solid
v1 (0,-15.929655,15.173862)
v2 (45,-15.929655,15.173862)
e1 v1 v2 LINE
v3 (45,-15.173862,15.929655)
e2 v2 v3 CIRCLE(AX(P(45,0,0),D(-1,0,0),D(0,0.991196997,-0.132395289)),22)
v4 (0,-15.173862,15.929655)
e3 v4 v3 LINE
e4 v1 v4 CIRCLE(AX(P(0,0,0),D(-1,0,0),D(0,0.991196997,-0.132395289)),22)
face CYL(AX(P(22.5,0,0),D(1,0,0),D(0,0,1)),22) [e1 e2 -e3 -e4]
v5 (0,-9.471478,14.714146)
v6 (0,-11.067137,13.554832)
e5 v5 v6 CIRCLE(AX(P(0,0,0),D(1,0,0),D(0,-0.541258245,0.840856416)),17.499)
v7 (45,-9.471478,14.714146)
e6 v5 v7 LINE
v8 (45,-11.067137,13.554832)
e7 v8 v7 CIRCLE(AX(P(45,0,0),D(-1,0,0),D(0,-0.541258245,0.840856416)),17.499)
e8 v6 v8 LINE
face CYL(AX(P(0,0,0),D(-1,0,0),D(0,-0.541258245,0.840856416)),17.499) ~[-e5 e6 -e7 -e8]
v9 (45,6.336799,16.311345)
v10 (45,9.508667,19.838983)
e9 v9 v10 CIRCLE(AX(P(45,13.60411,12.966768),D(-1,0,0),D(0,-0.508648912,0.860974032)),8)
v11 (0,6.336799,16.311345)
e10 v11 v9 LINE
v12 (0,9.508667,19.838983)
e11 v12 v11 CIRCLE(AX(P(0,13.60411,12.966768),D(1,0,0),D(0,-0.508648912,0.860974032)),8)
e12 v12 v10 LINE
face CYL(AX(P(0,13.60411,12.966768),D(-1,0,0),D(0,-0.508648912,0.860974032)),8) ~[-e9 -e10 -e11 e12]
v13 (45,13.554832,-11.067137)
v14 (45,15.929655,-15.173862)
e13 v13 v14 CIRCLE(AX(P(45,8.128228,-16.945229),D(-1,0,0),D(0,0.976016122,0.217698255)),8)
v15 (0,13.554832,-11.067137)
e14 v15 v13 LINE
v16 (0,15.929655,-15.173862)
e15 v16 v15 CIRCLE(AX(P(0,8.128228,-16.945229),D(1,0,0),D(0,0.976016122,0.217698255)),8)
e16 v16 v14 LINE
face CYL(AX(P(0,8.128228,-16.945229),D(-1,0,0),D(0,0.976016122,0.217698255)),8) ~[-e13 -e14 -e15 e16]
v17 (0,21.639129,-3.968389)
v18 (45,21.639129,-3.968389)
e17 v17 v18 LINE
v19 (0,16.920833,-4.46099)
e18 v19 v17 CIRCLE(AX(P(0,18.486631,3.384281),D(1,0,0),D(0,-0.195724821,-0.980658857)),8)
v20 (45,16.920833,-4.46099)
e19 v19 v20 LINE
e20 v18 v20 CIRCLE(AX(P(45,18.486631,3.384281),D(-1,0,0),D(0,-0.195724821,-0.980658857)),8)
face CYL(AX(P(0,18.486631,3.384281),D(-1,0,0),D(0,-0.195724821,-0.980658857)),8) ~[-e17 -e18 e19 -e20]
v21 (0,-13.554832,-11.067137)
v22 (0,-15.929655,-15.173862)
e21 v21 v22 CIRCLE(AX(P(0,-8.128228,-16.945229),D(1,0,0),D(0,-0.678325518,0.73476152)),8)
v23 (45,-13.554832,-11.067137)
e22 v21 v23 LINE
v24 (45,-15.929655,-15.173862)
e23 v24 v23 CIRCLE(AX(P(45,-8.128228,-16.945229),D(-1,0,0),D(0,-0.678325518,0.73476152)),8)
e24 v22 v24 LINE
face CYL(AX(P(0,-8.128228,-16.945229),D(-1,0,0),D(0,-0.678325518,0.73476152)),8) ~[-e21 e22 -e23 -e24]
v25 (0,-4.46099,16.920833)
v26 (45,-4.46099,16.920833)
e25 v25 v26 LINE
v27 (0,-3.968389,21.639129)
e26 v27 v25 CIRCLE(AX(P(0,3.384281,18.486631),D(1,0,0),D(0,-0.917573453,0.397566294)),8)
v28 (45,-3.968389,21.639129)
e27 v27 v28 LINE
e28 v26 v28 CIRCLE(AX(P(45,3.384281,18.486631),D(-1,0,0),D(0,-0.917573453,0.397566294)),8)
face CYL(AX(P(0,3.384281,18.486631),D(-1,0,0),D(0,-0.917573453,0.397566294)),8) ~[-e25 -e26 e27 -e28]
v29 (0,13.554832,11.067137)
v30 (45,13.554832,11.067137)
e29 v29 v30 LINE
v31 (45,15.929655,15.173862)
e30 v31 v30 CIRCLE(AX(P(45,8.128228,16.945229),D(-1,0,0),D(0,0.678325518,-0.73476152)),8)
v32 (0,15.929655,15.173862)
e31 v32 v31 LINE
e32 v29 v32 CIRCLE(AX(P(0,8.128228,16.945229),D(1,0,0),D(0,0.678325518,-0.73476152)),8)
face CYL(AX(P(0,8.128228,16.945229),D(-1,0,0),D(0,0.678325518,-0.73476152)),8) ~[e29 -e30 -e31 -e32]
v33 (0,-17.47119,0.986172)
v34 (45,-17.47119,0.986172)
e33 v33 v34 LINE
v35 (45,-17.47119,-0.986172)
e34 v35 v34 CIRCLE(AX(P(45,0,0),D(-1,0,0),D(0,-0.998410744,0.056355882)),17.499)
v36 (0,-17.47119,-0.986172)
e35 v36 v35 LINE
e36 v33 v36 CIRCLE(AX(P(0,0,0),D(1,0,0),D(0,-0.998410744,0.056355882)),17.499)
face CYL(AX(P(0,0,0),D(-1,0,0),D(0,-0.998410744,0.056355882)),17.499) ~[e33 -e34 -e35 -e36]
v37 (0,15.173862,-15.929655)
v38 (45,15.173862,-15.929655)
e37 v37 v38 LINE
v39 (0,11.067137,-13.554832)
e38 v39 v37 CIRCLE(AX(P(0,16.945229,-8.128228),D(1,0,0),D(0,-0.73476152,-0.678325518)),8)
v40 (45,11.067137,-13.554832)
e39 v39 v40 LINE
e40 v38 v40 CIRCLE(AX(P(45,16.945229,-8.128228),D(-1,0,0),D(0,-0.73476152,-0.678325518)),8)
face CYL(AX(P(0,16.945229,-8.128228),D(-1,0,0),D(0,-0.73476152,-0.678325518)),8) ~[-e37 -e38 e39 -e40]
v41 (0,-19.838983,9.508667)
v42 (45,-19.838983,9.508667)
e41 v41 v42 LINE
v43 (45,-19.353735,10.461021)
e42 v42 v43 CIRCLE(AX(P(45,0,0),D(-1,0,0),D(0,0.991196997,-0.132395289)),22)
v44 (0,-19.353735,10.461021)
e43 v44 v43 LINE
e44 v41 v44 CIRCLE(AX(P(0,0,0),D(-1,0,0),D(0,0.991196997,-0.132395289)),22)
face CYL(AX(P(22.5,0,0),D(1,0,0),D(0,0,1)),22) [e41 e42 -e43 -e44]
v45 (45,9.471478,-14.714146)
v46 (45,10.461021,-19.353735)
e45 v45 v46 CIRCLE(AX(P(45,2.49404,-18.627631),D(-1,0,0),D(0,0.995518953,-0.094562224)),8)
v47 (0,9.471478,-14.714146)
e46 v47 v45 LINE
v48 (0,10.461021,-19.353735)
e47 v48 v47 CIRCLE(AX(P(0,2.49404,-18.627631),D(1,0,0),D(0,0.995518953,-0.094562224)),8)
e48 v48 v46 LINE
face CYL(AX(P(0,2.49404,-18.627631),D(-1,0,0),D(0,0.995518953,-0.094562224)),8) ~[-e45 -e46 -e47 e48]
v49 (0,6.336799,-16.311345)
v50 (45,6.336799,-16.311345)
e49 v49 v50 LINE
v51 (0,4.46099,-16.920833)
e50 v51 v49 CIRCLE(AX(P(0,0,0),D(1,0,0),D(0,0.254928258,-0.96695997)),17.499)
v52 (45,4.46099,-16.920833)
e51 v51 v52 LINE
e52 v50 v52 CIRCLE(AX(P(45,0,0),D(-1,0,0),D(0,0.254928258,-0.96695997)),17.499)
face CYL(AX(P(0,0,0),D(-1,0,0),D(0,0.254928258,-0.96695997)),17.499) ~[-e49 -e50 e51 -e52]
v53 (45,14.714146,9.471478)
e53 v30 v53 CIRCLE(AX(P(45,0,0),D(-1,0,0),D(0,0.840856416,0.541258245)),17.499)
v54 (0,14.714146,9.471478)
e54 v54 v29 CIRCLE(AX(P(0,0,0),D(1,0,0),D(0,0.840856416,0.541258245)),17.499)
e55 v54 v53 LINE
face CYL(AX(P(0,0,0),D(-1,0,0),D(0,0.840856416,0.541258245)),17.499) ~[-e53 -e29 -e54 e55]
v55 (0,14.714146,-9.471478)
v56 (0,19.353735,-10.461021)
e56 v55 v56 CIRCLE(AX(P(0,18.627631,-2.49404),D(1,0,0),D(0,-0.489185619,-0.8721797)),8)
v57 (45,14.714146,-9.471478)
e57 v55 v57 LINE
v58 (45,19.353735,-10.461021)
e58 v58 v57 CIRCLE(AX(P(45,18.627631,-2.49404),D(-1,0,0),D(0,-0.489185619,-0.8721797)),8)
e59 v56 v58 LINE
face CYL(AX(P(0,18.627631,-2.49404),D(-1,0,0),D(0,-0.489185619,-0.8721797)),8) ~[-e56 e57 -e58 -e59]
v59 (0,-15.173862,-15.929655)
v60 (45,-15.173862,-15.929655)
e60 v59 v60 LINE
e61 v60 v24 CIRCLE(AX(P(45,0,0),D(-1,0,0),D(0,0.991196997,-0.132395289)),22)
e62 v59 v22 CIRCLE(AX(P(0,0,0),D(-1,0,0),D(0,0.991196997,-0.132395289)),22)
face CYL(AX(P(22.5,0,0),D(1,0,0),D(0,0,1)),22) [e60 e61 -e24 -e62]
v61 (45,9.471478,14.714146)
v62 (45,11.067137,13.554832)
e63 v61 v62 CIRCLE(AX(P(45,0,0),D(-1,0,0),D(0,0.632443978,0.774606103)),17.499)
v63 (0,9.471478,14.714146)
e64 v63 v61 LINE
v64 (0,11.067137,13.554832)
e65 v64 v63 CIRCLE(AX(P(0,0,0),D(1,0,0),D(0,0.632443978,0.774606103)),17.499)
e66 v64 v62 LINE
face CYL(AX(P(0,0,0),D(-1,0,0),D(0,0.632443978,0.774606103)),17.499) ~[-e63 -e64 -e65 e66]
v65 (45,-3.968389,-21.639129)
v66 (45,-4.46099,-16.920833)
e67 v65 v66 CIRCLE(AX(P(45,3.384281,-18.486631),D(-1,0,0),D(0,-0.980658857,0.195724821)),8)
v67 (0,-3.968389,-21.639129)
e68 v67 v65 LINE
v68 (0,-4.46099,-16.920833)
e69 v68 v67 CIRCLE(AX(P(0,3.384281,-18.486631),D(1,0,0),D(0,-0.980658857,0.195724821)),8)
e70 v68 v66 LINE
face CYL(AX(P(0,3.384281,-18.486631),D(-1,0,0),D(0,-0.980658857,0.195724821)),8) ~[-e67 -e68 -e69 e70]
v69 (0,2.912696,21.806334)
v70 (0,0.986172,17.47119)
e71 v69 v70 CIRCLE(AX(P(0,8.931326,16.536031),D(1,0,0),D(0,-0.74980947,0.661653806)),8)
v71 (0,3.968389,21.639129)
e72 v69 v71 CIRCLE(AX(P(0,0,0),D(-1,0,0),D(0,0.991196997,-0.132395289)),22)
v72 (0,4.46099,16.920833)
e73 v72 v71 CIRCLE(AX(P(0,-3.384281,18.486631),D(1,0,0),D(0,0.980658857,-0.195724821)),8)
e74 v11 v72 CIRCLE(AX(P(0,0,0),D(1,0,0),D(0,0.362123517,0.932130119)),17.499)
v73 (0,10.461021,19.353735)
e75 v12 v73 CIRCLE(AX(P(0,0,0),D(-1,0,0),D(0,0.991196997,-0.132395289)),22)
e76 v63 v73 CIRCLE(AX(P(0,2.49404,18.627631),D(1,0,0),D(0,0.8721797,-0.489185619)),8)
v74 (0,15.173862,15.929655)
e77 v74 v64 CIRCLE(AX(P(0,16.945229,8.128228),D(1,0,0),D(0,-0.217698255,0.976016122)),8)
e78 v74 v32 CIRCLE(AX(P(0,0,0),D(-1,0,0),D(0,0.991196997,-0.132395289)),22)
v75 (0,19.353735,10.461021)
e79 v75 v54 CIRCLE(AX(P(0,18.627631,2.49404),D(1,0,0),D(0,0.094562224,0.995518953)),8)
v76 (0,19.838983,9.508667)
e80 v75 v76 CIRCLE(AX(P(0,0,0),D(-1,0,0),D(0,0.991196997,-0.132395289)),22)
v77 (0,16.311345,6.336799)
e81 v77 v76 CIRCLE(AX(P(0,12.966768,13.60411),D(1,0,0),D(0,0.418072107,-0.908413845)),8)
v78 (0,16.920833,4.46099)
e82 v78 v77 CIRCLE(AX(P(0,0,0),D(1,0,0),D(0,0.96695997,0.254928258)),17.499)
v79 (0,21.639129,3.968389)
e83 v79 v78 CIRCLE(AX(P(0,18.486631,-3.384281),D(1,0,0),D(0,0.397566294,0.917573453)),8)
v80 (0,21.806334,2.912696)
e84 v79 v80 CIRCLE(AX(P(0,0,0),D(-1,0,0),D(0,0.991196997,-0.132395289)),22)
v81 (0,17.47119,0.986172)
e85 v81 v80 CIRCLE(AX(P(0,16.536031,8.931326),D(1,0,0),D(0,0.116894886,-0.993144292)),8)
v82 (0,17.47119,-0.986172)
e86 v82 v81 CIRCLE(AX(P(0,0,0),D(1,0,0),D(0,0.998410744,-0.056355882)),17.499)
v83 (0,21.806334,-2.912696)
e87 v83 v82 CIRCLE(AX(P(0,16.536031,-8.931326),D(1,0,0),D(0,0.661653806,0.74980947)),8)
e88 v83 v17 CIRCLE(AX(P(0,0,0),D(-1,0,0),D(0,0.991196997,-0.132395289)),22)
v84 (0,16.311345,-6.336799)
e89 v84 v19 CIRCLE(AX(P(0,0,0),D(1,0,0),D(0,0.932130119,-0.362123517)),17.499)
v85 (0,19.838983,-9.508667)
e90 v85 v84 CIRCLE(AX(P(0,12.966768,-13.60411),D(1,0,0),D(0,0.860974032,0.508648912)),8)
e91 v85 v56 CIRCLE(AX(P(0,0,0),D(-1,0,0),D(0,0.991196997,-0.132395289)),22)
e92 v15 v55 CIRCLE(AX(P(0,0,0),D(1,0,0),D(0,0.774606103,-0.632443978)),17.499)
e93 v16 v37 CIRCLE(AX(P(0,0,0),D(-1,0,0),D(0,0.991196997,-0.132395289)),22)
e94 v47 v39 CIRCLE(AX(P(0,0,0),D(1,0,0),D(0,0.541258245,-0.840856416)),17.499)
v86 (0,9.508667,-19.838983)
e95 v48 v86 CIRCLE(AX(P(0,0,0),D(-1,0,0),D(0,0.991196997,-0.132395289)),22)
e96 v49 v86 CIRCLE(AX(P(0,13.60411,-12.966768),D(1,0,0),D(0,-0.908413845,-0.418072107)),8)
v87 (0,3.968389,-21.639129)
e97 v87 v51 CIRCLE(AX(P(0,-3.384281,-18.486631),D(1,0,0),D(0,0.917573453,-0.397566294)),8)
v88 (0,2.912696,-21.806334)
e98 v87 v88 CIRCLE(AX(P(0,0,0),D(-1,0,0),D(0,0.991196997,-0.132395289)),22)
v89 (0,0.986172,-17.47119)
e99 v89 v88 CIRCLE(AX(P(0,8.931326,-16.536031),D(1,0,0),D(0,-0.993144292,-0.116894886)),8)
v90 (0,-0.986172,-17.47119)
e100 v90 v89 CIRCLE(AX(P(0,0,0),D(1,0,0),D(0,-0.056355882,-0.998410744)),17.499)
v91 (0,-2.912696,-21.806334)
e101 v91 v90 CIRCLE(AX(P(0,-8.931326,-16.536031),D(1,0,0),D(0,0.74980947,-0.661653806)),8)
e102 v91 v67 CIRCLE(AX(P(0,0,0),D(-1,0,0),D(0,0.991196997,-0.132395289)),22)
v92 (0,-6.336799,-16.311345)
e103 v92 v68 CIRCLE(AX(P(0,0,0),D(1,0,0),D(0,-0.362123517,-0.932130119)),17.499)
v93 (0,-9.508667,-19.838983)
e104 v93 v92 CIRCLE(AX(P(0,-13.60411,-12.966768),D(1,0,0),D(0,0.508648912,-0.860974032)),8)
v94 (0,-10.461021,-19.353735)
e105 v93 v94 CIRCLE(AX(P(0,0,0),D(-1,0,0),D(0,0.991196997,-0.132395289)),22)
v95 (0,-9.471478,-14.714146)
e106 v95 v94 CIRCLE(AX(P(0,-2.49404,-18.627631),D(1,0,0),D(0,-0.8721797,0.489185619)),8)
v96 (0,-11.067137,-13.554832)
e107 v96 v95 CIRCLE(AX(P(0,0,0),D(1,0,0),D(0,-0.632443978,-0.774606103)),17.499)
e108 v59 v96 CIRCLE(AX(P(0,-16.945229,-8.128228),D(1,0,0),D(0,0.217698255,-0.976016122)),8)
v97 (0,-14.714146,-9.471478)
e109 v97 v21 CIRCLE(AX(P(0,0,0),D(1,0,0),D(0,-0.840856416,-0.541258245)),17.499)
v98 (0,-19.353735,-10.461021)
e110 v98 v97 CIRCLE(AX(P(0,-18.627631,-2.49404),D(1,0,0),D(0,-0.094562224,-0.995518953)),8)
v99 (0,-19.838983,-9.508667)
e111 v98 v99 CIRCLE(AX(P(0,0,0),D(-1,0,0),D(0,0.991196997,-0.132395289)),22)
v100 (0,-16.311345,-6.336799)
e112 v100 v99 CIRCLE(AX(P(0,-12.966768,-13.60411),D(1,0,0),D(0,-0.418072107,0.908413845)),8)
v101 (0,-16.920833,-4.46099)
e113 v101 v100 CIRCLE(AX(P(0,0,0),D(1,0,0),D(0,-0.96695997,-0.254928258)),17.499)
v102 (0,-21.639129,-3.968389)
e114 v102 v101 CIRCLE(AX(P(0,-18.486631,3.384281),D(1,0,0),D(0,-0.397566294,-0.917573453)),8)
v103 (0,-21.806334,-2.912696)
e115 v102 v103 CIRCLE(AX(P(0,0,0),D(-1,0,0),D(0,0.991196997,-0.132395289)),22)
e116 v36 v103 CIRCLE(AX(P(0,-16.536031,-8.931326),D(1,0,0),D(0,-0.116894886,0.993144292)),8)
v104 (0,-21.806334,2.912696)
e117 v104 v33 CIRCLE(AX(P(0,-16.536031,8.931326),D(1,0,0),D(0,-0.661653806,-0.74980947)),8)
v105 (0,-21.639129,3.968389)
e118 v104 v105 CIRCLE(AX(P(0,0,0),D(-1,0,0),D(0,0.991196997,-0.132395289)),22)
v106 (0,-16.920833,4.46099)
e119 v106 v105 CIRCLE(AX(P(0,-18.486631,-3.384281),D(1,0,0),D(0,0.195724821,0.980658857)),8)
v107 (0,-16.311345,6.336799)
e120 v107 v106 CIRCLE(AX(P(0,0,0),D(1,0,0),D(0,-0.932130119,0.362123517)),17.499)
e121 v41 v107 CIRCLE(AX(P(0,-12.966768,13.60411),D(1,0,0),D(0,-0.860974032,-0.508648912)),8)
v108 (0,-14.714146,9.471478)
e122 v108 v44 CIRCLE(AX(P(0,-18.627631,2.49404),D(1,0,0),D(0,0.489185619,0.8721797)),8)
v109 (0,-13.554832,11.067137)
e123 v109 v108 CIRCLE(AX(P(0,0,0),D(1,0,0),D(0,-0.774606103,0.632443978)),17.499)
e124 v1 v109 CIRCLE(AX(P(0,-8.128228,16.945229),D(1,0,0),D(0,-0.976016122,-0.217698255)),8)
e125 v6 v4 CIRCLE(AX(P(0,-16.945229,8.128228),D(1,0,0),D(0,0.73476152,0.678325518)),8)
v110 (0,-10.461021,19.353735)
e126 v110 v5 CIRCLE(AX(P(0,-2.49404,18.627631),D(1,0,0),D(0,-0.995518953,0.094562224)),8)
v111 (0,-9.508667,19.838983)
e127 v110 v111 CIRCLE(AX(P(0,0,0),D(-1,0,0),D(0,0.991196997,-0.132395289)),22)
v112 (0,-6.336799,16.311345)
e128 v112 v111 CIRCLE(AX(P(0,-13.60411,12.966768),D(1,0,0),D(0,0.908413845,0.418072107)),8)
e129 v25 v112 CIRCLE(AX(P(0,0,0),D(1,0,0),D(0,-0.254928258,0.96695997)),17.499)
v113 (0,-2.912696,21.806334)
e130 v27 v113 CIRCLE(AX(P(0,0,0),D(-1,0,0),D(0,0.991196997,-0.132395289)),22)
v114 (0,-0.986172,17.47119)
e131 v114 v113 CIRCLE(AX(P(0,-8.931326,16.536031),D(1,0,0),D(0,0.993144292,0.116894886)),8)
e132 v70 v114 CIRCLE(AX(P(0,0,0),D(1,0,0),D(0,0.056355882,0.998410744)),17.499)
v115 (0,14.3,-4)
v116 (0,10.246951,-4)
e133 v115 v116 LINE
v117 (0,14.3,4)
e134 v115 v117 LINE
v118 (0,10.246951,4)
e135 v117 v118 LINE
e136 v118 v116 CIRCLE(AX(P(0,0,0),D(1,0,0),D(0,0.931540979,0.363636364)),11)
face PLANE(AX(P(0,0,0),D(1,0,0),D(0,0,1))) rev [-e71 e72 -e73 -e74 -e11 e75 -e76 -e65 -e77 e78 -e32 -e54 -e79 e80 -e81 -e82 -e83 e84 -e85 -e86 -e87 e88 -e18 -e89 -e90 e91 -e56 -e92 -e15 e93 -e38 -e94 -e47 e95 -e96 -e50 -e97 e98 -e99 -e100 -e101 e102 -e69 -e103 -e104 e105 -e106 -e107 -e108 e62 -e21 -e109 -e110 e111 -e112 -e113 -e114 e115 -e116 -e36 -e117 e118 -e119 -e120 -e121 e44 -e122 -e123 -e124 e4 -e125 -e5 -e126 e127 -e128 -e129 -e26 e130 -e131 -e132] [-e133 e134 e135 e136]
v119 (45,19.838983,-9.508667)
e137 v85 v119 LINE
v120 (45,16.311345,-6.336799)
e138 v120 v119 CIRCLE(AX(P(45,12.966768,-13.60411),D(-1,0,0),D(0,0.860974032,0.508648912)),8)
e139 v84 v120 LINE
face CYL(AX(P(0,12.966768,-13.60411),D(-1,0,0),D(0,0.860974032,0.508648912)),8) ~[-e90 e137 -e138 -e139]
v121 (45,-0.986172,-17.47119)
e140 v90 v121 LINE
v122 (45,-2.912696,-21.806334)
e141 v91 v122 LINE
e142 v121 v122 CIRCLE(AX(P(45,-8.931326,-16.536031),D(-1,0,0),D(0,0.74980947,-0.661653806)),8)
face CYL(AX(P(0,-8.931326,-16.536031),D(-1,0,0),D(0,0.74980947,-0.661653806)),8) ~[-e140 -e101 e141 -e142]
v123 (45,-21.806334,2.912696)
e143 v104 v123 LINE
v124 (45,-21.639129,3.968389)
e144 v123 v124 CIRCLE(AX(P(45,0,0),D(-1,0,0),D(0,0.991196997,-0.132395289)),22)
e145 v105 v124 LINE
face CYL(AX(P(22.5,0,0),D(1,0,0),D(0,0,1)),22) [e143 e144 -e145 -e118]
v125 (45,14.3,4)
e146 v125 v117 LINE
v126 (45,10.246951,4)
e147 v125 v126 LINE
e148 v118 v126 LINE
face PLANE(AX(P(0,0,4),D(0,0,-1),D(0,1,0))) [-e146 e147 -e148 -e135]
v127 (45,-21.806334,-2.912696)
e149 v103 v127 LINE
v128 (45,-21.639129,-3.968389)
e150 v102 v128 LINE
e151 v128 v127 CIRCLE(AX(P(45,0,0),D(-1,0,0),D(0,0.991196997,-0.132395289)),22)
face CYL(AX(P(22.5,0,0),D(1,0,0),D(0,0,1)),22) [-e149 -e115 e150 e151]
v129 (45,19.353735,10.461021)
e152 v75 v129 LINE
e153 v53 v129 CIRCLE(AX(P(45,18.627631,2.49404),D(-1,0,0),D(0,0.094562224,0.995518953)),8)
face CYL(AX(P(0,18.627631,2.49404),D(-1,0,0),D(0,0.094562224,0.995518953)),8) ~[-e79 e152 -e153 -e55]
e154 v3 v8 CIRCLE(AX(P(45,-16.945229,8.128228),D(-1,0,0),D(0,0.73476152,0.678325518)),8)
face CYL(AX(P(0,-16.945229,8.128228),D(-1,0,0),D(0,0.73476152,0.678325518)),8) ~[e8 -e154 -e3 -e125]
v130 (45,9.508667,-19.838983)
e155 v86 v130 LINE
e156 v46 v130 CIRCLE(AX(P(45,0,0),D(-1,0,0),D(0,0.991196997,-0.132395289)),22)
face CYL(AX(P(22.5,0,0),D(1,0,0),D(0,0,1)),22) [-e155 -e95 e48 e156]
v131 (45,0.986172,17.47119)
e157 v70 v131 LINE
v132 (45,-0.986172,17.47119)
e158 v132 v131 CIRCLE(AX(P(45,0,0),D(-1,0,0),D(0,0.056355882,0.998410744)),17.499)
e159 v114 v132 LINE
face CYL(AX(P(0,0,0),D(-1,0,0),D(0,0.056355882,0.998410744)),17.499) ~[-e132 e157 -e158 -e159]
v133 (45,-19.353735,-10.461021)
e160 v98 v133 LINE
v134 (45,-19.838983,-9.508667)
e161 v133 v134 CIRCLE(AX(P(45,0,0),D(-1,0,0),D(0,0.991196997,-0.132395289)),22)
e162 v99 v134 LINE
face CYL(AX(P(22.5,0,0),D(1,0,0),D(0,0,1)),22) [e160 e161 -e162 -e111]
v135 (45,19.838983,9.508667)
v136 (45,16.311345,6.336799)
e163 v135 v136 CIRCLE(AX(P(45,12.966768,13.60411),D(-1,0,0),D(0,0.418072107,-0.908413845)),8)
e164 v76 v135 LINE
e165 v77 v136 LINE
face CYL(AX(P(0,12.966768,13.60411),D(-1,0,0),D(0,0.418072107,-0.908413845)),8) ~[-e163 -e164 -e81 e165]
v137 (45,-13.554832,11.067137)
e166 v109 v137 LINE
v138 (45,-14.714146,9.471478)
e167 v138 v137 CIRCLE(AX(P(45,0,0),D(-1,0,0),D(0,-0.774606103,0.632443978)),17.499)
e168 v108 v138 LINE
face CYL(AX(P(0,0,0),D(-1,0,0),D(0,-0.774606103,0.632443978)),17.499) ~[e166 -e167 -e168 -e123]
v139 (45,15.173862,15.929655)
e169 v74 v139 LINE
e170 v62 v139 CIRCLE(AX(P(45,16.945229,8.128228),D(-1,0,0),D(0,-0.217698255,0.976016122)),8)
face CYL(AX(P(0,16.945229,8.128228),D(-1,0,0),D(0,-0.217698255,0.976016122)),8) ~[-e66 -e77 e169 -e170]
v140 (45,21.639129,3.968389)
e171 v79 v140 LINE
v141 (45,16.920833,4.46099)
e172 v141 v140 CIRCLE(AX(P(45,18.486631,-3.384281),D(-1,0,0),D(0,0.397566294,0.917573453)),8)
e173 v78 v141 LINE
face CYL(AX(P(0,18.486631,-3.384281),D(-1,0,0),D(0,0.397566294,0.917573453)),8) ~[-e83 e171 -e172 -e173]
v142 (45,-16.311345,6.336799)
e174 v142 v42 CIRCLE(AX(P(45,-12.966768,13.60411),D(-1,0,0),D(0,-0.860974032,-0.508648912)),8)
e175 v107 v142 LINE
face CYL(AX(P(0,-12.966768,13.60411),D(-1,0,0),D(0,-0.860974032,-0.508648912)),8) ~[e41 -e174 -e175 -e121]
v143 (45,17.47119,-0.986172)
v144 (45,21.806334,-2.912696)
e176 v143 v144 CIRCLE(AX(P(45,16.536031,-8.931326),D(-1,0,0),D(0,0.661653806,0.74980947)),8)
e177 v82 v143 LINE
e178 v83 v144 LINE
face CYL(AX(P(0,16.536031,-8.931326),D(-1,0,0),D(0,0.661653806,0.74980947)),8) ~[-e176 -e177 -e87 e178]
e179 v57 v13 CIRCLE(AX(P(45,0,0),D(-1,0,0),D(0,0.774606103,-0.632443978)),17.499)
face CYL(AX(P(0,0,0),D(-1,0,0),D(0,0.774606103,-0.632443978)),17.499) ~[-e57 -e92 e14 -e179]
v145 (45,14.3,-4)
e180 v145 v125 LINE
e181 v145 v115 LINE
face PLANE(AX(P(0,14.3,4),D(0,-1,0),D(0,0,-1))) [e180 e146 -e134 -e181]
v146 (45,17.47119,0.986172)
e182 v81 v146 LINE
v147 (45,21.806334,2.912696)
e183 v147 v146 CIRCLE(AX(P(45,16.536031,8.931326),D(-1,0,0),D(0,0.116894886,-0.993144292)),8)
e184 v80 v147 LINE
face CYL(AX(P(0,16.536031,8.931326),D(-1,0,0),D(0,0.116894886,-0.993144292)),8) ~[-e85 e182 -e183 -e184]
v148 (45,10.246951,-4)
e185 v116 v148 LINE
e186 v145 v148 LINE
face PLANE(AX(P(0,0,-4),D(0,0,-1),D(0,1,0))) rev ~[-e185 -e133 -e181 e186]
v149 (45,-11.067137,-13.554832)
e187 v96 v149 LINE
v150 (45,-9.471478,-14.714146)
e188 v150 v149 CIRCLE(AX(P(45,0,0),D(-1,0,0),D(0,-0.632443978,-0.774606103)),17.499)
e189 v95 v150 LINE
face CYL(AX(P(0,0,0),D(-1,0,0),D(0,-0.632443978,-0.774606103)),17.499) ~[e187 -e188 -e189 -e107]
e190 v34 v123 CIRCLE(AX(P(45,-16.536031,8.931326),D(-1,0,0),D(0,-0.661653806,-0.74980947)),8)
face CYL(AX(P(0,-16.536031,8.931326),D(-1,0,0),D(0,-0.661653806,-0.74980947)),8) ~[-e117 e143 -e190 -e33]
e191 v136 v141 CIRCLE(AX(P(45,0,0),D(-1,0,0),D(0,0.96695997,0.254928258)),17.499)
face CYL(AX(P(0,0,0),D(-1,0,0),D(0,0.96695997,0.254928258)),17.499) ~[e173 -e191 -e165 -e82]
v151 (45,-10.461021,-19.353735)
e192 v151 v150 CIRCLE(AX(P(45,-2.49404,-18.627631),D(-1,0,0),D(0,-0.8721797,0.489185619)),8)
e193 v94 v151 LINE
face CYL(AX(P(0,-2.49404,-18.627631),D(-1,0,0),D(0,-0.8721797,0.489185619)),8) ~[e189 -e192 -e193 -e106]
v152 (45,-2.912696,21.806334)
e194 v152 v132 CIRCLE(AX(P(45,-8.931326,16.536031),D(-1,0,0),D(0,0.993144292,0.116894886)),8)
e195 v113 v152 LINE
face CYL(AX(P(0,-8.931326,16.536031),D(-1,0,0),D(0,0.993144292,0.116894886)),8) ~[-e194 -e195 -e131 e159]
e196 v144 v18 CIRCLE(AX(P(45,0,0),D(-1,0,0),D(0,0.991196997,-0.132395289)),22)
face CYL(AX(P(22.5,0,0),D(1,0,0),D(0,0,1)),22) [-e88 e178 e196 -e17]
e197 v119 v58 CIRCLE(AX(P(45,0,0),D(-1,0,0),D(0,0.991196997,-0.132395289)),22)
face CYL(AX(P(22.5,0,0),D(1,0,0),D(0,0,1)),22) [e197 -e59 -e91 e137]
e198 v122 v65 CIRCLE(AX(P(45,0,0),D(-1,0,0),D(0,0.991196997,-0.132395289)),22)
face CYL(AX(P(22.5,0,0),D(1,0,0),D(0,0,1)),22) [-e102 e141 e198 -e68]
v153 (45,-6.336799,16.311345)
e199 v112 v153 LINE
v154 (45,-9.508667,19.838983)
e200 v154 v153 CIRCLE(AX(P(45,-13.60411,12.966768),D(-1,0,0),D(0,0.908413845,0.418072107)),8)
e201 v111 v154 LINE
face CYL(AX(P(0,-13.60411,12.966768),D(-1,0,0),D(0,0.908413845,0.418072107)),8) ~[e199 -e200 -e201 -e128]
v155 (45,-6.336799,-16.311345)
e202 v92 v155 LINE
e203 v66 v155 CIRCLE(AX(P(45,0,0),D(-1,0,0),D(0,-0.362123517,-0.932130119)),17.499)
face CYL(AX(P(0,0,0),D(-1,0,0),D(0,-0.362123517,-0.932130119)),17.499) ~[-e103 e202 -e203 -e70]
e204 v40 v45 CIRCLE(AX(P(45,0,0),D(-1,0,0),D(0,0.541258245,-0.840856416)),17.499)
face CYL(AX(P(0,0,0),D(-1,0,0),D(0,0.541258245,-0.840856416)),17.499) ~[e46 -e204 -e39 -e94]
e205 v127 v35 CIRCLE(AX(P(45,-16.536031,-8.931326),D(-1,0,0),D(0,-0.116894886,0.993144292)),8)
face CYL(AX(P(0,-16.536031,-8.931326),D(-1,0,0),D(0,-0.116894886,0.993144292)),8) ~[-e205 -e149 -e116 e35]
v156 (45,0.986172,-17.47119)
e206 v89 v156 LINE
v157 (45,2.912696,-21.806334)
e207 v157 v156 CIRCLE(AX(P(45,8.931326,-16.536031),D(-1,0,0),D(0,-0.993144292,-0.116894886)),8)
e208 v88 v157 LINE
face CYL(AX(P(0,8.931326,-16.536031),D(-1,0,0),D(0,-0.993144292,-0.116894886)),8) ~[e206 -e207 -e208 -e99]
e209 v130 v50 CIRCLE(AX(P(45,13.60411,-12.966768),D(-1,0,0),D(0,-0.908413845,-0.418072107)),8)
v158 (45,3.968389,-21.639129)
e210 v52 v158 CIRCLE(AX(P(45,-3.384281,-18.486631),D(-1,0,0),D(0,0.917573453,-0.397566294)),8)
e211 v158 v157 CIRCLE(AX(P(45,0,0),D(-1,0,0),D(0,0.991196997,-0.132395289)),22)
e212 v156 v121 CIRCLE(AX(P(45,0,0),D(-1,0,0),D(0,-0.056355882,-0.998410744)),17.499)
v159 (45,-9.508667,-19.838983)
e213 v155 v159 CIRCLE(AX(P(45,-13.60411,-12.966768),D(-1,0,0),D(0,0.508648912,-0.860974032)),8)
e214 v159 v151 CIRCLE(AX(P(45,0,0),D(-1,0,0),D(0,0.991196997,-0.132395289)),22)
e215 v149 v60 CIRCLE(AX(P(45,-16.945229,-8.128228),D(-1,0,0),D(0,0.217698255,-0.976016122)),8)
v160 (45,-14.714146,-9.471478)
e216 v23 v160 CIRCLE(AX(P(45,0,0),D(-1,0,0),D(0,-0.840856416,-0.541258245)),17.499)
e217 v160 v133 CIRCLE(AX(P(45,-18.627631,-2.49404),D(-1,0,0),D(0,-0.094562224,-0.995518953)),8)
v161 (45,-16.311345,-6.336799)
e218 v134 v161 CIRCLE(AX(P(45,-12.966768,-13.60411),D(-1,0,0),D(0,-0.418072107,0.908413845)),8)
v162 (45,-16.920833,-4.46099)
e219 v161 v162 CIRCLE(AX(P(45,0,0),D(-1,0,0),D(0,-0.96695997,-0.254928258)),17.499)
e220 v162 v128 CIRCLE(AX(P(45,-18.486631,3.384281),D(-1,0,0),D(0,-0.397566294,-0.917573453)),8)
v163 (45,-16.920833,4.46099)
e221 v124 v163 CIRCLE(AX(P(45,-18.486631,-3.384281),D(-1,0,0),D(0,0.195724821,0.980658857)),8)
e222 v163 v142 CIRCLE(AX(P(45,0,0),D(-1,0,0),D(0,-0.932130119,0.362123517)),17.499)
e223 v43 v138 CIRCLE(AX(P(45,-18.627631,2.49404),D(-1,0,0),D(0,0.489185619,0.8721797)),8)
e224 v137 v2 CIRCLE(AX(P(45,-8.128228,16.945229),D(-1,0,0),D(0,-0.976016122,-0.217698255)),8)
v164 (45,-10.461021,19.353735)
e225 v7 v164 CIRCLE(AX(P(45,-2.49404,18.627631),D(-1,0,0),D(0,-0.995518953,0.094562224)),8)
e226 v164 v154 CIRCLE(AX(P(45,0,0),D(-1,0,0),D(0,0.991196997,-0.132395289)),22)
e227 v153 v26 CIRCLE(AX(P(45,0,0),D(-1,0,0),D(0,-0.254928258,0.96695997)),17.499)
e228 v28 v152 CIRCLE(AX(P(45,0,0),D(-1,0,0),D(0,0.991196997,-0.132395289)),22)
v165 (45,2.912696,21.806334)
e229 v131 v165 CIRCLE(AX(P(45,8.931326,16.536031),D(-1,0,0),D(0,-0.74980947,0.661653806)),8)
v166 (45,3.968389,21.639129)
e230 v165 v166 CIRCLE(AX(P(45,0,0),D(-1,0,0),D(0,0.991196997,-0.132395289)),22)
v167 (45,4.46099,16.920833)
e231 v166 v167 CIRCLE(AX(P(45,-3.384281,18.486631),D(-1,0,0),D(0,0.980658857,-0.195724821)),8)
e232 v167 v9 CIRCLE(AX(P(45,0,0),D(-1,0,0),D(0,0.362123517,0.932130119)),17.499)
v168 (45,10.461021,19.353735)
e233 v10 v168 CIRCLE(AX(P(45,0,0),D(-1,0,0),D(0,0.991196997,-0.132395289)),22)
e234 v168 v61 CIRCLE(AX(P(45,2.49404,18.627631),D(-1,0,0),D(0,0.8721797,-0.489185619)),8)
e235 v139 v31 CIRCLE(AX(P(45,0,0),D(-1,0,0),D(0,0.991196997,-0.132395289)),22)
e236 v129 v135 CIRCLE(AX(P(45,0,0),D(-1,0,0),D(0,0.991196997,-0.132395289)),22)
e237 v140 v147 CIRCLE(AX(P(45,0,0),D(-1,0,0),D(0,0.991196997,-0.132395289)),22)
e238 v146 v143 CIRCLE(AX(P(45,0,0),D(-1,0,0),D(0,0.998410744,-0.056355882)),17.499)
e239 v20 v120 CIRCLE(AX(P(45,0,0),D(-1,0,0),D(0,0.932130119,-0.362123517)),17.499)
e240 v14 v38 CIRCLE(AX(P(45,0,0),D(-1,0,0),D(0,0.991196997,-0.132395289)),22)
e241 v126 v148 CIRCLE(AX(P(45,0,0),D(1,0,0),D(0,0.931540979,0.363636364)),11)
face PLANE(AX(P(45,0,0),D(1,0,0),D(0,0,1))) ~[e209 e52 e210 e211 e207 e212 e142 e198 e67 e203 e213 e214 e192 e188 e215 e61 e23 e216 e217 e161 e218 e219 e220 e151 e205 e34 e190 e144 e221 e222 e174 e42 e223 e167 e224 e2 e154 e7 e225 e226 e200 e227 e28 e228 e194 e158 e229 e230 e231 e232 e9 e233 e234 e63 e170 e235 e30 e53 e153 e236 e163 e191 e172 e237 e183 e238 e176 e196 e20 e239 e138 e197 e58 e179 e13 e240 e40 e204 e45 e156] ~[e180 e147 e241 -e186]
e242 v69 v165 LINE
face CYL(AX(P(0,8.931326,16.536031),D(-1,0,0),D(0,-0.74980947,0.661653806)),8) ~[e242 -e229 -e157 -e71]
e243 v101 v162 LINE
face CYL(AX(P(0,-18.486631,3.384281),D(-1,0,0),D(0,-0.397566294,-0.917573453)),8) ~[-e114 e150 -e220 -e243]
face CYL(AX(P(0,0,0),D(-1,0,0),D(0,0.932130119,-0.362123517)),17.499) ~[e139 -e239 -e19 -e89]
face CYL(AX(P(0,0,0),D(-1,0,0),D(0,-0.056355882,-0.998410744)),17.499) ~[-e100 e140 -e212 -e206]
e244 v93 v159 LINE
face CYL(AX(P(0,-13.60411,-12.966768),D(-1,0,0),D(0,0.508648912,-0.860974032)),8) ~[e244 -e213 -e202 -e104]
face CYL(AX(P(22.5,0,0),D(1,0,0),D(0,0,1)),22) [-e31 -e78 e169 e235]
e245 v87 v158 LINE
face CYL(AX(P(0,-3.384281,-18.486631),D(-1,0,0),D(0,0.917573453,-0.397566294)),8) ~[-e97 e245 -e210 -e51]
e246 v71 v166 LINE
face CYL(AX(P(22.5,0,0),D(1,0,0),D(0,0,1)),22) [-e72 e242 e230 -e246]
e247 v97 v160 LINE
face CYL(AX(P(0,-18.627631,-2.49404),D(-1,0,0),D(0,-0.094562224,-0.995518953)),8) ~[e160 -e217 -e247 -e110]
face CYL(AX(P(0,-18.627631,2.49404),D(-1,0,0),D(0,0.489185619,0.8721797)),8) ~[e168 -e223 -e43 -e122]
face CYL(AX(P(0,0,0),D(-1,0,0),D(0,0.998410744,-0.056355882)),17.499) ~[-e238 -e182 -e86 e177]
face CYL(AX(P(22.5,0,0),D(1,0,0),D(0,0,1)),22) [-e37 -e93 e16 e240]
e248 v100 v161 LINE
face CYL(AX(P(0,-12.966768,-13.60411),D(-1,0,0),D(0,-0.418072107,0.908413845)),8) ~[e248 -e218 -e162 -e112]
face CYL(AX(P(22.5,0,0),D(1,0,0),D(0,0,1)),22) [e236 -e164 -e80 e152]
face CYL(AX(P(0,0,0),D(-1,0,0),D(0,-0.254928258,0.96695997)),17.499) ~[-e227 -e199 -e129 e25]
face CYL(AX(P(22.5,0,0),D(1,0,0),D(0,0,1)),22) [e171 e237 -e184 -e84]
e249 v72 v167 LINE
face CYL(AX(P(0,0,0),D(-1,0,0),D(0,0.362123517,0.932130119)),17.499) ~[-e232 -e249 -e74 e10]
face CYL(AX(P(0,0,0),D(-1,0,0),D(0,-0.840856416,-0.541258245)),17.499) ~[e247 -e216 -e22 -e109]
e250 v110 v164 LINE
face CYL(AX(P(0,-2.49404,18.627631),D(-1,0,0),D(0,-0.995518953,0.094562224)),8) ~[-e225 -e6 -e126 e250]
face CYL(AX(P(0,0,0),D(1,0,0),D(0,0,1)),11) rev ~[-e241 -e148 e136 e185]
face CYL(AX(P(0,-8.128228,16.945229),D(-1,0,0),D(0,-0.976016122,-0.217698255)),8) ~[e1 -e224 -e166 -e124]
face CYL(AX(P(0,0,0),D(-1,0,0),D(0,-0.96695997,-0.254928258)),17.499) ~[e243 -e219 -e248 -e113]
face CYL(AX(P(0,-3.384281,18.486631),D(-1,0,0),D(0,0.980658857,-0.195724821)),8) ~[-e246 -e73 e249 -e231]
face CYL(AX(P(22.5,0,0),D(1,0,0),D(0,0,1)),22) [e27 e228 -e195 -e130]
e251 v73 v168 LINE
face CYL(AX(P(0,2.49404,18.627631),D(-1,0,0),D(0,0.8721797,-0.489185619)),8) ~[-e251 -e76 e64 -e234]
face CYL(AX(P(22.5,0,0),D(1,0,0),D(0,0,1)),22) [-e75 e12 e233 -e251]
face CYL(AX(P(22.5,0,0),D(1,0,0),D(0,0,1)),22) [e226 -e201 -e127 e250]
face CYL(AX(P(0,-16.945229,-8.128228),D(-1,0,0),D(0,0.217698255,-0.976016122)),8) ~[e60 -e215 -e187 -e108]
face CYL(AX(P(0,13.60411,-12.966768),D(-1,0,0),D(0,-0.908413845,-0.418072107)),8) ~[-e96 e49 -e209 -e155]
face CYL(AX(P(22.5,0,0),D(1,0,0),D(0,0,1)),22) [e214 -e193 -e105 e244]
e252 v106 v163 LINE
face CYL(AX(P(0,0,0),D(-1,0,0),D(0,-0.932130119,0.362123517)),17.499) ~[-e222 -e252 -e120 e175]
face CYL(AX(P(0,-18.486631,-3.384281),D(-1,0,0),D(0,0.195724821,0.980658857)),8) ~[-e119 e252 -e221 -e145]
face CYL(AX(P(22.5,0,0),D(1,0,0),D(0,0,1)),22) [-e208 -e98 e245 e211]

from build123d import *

# Parameters (mm, degrees)
BASPROSKE_W     = 45
BASPROSKE_H     = 22
TOOTHCUT_DEPTH  = 55.708317466
TEETHCUTS_COUNT = 20
TEETHCUTS_ANGLE = 342
BORSKE_R        = 11
BORE_DEPTH      = 50.0000508
KEYSKE_W        = 8
KEYSKE_H        = 14.3
KEYWAY_DEPTH    = 50.0000508


with BuildPart() as part:
    # BasProSke → Base-Revolve (revolve)
    with BuildSketch(Plane(origin=(0, 0, 0), x_dir=(1, 0, 0), z_dir=(0, 1, 0)), mode=Mode.PRIVATE) as base_revolve_sk:
        with Locations((22.5, 11)):
            Rectangle(BASPROSKE_W, BASPROSKE_H)
    revolve(base_revolve_sk.sketch.rotate(Axis((-10, 0, 0), (1, 0, 0)), 180), axis=Axis((-10, 0, 0), (1, 0, 0)))

    # TooCutSke → ToothCut (cut, through all)
    with BuildSketch(Plane(origin=(0, 0, 0), x_dir=(0, 0, -1), z_dir=(1, 0, 0))):
        with BuildLine():
            ThreePointArc((0.986171591, 17.471189616), (0, 17.499), (-0.986171591, 17.471189616))
            ThreePointArc((-0.986171591, 17.471189616), (-1.626916196, 19.798789858), (-2.932850173, 21.829260982))
            ThreePointArc((-2.932850173, 21.829260982), (0, 22.0254), (2.932850173, 21.829260982))
            ThreePointArc((2.932850173, 21.829260982), (1.626916196, 19.798789858), (0.986171591, 17.471189616))
        make_face()
    toothcut = extrude(amount=TOOTHCUT_DEPTH, mode=Mode.SUBTRACT)

    # TeethCuts: ToothCut ×20 about axis
    teethcuts_axis = Axis((-10, 0, 0), (1, 0, 0))
    for i in range(1, TEETHCUTS_COUNT):
        add(toothcut.rotate(teethcuts_axis, i * TEETHCUTS_ANGLE / (TEETHCUTS_COUNT - 1)), mode=Mode.SUBTRACT)

    # BorSke → Bore (cut, symmetric)
    with BuildSketch(Plane(origin=(0, 0, 0), x_dir=(0, 0, -1), z_dir=(1, 0, 0))):
        with Locations(Location((0, 0, 0), (0, 0, 180))):
            Circle(BORSKE_R)
    extrude(amount=BORE_DEPTH, both=True, mode=Mode.SUBTRACT)

    # KeySke → Keyway (cut, symmetric)
    with BuildSketch(Plane(origin=(0, 0, 0), x_dir=(0, 0, -1), z_dir=(1, 0, 0))):
        with Locations((0, 7.15)):
            Rectangle(KEYSKE_W, KEYSKE_H)
    extrude(amount=KEYWAY_DEPTH, both=True, mode=Mode.SUBTRACT)


solid = part.part
